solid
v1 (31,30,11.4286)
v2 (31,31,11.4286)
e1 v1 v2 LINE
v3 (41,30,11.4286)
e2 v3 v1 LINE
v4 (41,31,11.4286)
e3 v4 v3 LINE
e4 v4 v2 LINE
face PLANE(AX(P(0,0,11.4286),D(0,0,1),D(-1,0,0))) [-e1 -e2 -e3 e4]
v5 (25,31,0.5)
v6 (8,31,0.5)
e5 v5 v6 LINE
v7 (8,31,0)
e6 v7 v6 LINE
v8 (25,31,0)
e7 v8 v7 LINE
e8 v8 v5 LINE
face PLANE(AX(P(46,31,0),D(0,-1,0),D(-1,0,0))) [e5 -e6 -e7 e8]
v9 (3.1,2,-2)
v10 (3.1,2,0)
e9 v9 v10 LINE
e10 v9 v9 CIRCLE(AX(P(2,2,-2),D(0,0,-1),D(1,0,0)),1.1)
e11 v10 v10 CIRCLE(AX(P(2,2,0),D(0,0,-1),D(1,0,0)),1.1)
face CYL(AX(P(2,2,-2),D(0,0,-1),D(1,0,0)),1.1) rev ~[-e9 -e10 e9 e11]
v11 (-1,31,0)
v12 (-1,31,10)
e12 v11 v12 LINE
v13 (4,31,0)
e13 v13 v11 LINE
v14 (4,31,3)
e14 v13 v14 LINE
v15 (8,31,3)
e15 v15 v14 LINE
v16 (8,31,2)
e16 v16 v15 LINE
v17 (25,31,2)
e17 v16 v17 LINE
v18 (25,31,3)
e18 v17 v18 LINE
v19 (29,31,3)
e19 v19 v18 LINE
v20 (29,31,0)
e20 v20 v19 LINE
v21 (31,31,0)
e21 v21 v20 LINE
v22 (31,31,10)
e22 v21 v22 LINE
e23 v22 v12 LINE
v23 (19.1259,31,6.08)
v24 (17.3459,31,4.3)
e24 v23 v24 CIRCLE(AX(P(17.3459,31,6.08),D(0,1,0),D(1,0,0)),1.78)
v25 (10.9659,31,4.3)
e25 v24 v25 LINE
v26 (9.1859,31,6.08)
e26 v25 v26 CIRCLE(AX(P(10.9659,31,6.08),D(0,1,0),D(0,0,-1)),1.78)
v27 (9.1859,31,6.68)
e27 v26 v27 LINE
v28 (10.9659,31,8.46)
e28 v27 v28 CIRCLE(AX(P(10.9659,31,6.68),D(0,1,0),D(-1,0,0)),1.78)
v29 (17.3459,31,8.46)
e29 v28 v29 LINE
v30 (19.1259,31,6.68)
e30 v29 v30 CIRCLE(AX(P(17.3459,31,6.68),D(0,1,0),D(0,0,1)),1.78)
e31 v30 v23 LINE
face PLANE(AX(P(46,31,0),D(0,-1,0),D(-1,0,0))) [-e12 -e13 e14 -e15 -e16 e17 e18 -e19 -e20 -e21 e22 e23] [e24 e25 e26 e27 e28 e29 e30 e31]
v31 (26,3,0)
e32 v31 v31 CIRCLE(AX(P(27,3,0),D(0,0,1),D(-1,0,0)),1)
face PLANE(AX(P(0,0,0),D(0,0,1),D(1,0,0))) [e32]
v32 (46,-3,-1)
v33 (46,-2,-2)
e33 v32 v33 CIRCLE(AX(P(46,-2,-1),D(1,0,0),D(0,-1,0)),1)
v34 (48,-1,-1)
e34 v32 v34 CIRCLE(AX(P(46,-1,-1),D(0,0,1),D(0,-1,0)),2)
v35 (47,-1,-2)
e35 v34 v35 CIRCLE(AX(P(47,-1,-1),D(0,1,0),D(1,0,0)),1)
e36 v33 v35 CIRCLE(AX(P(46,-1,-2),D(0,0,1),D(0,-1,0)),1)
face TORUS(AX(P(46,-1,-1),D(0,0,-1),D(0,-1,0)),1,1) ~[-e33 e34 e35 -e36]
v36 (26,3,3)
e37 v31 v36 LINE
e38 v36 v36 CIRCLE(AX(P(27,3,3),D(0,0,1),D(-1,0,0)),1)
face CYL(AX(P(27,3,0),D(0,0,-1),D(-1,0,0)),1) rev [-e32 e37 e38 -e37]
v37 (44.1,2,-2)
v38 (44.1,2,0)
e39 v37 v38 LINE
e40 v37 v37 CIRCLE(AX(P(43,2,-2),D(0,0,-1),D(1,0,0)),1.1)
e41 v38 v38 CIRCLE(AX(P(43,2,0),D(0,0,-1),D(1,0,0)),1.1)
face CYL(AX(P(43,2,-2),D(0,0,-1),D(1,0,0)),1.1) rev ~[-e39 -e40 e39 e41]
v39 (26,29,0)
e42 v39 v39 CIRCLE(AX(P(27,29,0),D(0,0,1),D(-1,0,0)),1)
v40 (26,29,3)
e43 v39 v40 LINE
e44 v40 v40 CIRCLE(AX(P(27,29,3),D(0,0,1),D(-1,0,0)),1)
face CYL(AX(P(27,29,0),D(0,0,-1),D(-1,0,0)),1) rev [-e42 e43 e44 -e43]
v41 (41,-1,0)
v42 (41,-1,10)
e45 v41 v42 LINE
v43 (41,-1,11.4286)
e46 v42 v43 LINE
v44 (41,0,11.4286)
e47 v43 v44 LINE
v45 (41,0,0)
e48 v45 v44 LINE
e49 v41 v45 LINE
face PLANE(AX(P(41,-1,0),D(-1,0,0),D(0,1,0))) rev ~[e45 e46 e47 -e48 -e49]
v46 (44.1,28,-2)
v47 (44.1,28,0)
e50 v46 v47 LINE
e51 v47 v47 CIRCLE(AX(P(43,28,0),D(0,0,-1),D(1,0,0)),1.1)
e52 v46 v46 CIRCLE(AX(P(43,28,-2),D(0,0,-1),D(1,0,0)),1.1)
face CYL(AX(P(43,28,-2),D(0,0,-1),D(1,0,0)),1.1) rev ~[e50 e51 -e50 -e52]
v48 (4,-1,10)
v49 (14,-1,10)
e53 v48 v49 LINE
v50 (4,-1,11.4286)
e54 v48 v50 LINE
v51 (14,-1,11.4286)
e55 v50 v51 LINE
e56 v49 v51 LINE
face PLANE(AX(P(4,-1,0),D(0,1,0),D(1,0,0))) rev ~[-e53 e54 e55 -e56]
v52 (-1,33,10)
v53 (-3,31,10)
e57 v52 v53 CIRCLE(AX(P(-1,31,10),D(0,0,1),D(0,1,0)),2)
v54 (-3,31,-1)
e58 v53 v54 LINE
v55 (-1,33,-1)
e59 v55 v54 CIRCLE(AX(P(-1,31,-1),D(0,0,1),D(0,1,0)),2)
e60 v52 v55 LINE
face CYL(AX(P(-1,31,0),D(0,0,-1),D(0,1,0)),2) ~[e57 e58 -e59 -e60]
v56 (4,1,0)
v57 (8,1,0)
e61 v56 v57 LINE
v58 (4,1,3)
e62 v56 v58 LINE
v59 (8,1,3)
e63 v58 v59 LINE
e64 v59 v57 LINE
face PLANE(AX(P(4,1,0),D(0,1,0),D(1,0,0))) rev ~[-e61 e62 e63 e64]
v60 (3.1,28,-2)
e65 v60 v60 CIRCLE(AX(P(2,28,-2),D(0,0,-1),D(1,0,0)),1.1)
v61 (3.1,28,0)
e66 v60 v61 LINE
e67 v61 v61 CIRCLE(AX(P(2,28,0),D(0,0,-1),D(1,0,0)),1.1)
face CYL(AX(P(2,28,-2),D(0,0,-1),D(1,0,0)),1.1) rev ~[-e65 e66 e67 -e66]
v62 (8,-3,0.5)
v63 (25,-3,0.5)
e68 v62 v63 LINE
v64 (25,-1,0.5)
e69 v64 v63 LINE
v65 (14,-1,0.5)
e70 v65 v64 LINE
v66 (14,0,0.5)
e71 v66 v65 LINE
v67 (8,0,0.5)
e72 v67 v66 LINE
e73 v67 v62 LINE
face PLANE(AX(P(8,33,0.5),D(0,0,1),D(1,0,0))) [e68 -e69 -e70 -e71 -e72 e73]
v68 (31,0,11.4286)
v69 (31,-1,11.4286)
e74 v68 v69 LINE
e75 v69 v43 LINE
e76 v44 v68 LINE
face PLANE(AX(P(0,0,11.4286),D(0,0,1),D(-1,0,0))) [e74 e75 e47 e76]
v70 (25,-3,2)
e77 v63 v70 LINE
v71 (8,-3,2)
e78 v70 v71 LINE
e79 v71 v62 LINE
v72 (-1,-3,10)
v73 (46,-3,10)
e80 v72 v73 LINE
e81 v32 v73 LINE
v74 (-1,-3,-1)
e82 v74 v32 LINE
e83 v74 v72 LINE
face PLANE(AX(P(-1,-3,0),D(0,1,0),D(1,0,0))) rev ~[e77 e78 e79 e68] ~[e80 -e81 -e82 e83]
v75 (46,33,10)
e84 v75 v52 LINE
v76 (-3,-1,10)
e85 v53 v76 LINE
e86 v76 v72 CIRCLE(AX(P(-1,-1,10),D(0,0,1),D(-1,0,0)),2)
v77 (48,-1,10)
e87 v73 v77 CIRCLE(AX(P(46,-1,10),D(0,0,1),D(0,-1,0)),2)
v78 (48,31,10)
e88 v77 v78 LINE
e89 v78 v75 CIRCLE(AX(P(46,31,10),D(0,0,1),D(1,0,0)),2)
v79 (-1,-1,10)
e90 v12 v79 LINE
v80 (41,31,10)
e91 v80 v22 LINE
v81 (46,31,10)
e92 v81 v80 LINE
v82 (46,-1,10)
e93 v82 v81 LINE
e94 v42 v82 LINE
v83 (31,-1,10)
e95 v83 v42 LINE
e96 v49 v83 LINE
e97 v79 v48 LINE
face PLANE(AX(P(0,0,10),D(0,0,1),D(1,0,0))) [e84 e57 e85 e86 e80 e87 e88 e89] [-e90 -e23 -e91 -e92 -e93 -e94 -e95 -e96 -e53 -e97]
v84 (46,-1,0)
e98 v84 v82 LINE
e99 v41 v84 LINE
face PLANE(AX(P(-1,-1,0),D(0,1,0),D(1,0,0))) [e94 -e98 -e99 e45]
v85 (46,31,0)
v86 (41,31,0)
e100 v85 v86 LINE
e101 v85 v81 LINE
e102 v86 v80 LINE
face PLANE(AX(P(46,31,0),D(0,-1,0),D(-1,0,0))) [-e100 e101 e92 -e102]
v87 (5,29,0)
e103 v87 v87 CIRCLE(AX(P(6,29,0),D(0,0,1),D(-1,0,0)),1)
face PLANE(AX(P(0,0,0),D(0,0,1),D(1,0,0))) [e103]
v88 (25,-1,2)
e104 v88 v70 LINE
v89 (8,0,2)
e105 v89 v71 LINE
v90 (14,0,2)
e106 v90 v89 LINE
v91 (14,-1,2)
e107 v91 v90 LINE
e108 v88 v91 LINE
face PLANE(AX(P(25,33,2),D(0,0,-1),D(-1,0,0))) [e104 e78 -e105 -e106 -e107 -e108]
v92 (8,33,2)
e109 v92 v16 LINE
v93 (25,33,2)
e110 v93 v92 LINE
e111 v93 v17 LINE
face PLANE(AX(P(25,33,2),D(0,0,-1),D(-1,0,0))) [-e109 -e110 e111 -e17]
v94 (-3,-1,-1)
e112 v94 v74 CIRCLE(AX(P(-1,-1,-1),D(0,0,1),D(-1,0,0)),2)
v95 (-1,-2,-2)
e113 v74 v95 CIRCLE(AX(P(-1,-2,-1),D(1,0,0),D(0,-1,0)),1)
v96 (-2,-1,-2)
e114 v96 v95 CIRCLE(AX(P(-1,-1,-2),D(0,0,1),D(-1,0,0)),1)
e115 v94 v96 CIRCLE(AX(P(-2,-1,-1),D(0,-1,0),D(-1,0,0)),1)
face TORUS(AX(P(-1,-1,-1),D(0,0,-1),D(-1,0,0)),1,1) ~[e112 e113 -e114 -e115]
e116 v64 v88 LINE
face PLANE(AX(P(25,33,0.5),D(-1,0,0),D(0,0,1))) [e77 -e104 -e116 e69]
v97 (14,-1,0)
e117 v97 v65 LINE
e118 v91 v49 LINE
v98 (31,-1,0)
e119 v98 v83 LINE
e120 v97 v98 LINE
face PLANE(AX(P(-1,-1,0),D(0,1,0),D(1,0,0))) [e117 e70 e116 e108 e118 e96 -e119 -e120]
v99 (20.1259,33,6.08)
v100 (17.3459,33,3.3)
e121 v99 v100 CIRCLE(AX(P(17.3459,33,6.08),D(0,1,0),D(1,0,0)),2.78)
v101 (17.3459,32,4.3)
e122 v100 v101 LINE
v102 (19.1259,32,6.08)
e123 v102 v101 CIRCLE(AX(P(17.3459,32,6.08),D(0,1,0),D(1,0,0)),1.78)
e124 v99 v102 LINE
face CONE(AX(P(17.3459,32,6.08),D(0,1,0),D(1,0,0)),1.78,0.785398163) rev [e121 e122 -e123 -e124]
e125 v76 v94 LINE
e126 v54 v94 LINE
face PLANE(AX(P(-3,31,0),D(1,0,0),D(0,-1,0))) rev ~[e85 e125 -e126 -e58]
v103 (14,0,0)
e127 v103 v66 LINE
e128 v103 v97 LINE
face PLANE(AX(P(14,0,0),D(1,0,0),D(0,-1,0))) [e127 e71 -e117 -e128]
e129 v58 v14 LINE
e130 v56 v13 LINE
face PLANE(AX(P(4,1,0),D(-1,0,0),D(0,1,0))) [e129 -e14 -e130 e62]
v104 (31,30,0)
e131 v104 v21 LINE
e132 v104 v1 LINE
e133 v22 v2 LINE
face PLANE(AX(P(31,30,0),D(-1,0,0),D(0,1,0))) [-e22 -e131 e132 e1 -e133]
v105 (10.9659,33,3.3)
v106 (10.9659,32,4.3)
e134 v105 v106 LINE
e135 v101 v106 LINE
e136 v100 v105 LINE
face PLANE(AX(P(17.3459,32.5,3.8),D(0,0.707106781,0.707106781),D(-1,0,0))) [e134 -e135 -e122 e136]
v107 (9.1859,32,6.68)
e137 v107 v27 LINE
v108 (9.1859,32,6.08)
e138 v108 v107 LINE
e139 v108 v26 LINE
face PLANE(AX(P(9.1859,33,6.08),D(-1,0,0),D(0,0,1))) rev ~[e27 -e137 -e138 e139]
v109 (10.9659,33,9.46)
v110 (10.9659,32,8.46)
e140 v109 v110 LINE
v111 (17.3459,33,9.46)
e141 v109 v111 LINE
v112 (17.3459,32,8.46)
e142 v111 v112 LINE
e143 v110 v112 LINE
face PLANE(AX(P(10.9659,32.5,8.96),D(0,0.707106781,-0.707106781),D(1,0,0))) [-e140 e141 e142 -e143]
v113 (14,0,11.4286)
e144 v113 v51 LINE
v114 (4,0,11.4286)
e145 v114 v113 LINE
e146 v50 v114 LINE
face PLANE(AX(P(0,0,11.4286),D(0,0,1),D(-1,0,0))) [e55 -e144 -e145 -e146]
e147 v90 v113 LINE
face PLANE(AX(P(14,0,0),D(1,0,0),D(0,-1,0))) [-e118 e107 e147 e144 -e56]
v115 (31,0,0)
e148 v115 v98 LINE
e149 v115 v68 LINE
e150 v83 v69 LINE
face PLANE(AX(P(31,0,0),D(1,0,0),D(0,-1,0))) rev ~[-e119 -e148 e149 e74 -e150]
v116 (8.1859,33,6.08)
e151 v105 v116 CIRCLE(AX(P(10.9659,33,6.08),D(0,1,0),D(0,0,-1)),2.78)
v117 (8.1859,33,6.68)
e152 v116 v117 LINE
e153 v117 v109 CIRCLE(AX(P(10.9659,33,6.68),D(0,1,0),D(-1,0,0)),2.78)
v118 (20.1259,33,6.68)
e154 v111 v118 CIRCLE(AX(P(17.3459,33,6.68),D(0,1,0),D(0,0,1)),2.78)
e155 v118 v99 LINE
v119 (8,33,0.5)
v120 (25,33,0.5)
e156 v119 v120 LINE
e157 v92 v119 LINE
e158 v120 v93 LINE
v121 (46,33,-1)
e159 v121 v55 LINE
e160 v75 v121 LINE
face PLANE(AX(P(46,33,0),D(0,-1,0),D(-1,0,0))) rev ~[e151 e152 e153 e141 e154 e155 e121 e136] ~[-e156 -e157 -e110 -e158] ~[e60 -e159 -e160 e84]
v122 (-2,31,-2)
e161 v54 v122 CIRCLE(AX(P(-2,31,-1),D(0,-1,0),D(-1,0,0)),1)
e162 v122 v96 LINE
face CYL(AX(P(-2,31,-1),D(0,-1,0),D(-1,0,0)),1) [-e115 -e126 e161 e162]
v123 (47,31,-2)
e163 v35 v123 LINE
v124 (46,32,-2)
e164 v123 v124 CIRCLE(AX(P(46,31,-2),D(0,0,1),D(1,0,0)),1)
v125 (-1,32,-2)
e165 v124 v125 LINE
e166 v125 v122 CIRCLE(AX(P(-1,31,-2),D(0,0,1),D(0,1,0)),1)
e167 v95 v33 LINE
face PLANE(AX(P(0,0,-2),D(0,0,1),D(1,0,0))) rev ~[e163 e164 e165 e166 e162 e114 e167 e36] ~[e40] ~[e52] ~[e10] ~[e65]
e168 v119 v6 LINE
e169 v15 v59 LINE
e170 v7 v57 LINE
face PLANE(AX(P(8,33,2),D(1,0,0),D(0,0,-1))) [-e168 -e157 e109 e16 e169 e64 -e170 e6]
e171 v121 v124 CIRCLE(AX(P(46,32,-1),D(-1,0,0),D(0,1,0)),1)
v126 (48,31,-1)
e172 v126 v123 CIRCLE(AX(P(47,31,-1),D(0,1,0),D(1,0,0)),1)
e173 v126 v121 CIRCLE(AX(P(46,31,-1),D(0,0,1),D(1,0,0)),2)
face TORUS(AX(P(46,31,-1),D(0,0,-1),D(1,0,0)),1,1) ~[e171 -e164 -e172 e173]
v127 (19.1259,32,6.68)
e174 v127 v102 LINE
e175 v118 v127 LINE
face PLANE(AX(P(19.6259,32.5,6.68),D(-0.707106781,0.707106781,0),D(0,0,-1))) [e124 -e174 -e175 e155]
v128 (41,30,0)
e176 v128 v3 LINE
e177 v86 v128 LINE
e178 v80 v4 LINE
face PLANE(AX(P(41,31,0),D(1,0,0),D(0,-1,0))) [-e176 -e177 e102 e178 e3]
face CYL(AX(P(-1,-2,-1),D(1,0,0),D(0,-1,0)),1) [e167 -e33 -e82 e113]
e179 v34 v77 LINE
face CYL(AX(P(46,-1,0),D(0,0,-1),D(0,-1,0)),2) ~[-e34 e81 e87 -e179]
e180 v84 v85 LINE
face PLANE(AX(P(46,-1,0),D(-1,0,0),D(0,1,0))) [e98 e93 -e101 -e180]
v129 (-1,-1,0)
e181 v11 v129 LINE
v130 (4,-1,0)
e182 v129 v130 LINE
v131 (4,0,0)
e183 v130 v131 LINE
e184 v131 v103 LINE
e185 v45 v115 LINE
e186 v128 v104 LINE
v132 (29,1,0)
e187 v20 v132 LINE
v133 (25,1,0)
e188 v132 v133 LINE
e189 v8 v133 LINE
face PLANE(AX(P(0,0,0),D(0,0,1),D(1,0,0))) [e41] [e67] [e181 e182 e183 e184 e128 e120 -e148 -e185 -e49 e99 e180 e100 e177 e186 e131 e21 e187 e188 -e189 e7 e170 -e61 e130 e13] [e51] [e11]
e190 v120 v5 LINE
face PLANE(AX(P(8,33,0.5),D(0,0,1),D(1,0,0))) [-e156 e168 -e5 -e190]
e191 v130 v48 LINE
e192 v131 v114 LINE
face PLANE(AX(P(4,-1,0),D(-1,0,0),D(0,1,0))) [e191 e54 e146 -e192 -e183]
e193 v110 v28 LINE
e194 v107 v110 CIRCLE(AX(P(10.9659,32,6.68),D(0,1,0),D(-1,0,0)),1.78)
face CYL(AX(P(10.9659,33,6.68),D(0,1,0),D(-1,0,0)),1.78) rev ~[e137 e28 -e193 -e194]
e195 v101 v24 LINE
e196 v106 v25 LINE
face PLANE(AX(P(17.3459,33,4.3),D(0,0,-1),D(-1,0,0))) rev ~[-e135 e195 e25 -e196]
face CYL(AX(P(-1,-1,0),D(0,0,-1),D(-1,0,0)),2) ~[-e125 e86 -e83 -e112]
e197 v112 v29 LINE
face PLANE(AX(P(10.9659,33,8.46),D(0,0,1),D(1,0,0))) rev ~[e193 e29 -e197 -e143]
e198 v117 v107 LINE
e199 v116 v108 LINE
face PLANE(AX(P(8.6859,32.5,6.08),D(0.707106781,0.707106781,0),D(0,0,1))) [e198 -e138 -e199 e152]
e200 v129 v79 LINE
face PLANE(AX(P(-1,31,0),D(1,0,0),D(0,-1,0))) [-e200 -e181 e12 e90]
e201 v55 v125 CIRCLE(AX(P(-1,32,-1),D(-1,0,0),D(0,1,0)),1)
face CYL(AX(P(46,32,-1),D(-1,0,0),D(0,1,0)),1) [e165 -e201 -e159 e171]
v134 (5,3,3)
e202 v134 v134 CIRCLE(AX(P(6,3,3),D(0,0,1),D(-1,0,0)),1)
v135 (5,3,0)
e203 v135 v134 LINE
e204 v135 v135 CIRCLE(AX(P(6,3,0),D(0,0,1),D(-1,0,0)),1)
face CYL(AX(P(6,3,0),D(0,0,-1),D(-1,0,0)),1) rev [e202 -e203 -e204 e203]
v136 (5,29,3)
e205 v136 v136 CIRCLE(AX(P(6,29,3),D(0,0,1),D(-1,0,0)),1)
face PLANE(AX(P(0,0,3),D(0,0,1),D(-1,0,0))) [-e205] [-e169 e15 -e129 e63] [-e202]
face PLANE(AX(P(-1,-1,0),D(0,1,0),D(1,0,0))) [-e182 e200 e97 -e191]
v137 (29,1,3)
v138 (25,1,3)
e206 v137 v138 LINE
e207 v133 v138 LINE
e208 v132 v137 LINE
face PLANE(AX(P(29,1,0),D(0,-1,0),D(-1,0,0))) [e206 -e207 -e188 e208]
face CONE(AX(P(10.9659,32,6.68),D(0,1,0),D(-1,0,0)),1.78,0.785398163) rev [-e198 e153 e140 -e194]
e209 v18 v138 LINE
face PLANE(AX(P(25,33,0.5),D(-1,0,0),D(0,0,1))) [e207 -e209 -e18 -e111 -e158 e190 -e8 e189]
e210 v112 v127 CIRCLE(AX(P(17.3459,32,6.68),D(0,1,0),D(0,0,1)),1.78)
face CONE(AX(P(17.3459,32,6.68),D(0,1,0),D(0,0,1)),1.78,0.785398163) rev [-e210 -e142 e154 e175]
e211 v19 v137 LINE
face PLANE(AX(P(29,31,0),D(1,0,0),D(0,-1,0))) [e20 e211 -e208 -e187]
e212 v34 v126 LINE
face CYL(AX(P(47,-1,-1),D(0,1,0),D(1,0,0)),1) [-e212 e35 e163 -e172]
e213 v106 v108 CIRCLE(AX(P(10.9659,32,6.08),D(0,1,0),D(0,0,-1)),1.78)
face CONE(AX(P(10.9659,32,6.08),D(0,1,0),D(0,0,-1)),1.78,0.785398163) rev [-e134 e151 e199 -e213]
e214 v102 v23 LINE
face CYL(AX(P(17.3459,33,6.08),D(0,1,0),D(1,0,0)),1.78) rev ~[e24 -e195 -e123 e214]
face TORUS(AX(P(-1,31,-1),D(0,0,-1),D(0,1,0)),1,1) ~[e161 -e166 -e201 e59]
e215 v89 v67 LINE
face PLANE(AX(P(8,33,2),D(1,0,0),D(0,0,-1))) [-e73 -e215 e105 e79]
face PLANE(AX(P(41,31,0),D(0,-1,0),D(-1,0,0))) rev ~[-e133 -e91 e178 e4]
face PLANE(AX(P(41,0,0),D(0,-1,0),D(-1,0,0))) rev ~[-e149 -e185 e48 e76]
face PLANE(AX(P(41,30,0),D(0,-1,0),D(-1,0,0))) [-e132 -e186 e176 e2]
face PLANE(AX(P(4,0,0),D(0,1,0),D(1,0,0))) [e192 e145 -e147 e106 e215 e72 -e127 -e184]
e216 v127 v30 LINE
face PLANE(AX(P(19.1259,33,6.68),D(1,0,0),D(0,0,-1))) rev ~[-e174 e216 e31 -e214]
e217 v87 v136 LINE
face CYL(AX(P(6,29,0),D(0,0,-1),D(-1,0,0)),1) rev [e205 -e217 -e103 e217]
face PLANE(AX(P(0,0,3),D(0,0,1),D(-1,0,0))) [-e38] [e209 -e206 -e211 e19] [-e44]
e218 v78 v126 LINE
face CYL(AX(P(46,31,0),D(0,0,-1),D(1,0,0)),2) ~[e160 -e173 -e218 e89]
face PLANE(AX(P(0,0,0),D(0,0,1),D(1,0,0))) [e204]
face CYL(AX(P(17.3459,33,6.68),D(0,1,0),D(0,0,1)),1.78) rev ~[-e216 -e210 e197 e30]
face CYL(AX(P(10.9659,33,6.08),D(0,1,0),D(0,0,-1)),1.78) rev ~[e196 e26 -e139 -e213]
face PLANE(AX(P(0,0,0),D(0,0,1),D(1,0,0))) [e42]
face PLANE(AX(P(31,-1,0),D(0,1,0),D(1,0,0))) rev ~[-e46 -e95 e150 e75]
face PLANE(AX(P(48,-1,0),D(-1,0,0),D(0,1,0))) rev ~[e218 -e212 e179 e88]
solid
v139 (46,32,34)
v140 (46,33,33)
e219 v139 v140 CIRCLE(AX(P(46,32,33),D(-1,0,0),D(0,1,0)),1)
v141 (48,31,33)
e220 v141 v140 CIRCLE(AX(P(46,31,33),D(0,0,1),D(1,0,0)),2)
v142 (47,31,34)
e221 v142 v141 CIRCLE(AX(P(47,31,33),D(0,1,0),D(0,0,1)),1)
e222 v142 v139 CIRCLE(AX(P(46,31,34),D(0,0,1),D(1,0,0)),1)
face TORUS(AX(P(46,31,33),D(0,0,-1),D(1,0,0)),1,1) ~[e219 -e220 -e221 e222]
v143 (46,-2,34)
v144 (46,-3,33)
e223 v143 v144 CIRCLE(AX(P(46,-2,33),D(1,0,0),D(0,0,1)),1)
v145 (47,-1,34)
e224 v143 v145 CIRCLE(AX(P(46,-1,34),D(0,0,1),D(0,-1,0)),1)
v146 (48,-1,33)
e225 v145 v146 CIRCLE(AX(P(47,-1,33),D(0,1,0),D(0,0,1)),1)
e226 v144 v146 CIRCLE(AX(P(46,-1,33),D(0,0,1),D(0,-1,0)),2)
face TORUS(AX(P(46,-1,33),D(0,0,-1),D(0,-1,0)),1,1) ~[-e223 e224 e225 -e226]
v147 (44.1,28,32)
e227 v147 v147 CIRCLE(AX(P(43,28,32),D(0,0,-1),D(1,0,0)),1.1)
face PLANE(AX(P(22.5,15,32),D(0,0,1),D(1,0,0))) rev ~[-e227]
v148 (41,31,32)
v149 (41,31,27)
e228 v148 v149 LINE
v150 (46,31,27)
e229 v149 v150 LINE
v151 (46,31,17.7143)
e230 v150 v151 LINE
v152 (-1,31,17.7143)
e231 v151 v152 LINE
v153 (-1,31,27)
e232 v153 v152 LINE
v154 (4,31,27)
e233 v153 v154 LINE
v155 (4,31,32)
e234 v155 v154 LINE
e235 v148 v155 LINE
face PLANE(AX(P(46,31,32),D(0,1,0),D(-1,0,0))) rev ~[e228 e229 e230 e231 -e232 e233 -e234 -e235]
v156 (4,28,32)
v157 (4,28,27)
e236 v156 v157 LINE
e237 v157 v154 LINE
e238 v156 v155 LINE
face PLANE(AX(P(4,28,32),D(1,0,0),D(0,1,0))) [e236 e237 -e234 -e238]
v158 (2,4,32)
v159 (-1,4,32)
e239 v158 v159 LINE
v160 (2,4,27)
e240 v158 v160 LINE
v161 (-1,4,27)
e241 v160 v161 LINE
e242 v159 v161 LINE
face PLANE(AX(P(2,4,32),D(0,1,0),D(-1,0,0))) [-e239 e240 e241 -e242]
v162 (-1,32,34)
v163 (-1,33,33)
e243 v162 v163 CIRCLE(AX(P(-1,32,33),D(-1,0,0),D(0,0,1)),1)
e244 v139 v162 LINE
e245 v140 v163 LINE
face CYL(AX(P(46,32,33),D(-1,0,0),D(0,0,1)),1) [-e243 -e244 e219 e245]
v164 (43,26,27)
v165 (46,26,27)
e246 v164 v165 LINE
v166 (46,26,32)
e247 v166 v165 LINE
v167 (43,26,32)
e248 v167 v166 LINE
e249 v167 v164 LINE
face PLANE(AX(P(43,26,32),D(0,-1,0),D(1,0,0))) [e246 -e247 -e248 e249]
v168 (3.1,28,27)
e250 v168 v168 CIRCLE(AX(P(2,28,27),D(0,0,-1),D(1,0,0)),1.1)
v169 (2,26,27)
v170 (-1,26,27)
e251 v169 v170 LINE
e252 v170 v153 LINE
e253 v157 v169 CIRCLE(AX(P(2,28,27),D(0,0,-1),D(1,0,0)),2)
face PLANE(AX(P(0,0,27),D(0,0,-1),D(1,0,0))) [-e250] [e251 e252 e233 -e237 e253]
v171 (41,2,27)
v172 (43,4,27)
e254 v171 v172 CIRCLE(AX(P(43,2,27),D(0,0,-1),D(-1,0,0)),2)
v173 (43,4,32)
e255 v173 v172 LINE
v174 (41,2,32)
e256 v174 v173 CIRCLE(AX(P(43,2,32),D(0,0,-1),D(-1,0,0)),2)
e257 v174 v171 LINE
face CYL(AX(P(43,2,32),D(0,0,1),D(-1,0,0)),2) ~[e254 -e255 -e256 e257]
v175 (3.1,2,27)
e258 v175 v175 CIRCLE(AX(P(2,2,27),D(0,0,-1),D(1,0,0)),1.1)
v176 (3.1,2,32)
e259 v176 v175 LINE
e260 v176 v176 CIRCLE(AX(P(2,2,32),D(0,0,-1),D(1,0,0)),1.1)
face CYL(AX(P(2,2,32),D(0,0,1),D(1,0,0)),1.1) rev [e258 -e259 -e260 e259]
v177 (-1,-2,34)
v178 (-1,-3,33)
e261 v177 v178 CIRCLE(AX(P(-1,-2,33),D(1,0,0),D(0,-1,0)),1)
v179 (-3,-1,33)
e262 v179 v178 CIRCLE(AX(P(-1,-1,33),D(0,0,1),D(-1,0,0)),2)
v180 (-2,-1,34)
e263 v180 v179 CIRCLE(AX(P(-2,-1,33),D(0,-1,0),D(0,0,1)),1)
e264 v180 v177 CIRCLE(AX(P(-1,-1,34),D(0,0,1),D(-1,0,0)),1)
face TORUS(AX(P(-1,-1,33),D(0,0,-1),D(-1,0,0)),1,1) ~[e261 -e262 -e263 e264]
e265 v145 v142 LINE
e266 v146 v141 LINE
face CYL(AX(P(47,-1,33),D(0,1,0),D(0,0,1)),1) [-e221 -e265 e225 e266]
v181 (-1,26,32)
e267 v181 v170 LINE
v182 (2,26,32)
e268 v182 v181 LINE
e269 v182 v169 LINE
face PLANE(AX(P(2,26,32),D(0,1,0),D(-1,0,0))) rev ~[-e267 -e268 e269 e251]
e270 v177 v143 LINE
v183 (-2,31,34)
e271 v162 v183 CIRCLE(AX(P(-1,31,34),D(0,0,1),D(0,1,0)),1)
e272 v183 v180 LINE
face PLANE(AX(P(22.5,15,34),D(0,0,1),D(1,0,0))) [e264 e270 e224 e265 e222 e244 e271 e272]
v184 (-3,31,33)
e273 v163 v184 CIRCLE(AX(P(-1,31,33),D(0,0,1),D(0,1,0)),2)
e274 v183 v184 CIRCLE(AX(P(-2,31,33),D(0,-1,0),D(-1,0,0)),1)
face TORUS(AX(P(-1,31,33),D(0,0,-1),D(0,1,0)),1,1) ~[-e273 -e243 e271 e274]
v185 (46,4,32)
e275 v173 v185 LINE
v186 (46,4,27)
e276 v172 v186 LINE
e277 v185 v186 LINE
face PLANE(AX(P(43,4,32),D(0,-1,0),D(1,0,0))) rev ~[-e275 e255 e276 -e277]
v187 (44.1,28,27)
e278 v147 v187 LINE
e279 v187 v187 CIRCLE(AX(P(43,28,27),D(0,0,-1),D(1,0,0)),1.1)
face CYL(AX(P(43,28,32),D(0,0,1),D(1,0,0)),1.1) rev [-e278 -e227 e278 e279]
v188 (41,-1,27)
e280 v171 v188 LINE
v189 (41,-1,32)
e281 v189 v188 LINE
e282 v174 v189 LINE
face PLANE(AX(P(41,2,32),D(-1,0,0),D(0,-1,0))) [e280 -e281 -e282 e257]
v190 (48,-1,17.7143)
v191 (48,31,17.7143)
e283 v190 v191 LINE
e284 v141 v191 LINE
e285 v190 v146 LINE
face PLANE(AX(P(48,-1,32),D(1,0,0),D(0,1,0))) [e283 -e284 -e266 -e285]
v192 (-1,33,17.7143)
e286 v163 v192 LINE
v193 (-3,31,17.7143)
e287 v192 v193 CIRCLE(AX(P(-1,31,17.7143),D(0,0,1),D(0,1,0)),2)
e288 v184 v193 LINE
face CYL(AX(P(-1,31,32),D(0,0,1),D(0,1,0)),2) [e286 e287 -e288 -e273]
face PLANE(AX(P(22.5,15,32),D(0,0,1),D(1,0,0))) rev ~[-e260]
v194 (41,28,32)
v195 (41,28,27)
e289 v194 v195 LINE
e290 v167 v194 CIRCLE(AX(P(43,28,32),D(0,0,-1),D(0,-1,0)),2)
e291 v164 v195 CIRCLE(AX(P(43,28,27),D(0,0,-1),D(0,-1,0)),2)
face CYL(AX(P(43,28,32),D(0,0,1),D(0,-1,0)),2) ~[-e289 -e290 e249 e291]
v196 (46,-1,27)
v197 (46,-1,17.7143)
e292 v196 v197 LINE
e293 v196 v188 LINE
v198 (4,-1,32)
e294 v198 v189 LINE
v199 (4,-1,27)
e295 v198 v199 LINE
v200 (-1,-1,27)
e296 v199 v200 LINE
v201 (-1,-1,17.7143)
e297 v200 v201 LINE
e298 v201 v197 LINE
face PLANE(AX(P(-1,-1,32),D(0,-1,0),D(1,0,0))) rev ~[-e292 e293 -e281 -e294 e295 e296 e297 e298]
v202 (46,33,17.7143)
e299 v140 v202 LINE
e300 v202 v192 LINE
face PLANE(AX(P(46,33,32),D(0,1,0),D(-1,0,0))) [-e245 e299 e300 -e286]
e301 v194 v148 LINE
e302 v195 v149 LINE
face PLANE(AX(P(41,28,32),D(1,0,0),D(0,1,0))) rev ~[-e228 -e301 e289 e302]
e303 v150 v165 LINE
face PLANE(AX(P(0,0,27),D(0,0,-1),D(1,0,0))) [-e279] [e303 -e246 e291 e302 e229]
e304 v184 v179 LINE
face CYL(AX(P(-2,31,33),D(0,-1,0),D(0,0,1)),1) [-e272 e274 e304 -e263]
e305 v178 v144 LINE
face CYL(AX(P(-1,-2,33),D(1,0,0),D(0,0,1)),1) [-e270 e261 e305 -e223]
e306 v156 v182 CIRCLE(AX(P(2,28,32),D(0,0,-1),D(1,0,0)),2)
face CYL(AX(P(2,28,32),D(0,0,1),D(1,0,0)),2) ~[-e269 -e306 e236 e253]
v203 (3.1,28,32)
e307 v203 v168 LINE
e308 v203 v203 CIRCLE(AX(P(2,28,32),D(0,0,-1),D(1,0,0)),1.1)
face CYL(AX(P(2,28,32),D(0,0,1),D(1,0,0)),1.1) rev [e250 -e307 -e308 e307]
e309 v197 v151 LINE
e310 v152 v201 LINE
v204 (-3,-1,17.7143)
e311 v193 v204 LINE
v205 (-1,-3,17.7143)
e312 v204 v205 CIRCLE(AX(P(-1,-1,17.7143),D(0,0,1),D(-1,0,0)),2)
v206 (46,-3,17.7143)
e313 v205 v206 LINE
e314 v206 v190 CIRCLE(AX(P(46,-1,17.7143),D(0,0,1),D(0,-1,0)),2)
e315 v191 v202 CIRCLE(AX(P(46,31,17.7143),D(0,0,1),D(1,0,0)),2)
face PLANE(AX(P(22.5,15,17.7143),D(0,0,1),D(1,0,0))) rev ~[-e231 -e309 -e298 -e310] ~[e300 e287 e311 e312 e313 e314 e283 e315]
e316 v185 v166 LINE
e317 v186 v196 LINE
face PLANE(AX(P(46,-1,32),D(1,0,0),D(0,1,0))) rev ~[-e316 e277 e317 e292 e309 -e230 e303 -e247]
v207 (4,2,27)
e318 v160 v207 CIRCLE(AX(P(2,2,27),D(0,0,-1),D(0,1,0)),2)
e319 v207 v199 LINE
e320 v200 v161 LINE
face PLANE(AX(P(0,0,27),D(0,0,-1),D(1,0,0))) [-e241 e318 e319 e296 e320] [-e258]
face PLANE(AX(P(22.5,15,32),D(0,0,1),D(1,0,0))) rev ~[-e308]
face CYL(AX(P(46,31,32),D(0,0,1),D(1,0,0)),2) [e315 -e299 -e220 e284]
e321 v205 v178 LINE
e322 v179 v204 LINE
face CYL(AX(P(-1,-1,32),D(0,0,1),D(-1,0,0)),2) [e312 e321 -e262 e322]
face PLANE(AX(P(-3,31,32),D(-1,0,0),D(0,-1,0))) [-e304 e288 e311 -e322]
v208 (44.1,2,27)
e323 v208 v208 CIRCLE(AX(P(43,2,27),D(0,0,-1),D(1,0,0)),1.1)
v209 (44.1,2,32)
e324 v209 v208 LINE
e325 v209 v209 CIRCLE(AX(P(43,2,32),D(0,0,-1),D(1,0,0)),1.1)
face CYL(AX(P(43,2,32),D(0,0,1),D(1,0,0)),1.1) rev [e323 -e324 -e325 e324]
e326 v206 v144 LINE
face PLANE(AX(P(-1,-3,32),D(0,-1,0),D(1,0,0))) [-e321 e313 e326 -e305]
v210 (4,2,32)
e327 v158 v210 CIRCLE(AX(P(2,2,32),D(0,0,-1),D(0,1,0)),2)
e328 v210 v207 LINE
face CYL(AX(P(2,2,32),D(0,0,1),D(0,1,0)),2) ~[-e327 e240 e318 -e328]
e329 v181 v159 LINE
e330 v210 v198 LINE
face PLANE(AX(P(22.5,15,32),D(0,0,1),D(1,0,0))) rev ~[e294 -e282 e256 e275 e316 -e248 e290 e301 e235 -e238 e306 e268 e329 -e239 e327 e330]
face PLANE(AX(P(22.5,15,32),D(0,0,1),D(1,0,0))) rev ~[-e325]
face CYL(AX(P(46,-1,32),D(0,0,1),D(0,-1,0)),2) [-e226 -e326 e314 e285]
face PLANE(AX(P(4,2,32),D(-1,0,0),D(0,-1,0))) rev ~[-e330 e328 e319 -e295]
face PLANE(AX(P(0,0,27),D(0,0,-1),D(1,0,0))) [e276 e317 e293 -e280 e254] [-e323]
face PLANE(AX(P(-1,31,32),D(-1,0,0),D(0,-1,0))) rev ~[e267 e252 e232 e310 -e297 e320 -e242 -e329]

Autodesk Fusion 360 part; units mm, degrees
sketch "Sketch1" plane through (0, 0, 0) normal (0, 0, 1) x (1, 0, 0) in component "Enclosure-Bottom"
  line L0 (0, 0) -> (45, 0) construction
  line L1 (45, 0) -> (45, 30) construction
  line L2 (45, 30) -> (0, 30) construction
  line L3 (0, 30) -> (0, 0) construction
  line L4 (-1, -1) -> (46, -1)
  line L5 (46, -1) -> (46, 31)
  line L6 (46, 31) -> (-1, 31)
  line L7 (-1, 31) -> (-1, -1)
  line L8 (-1, -3) -> (46, -3)
  line L9 (48, -1) -> (48, 31)
  line L10 (46, 33) -> (-1, 33)
  line L11 (-3, 31) -> (-3, -1)
  arc A0 (48, 31) -> (46, 33) centre (46, 31) ccw
  arc A1 (-1, 33) -> (-3, 31) centre (-1, 31) ccw
  arc A2 (-3, -1) -> (-1, -3) centre (-1, -1) ccw
  arc A3 (46, -3) -> (48, -1) centre (46, -1) ccw
  dimension "d1" = 45
  dimension "d2" = 30
  dimension "d5" = 1
  dimension "d9" = 2
  dimension "d23" = 3
  dimension "d25" = 3
  dimension "d26" = 3
  dimension "d27" = 3
extrude "Extrude1" add sketch "Sketch1" against normal blind 2 contours L4 L5 L6 L7 | L8 L9 L10 L11 A0 A1 A2 A3 makes body 1 in component "Enclosure-Bottom"
extrude "Extrude2" add sketch "Sketch1" along normal blind 10 bodies 1 in component "Enclosure-Bottom"
ref_plane "WorkPlane1" through (22.5, 15, 32) normal (0, 0, 1) x (1, 0, 0)
sketch "Sketch1 (2)" plane through (22.5, 15, 32) normal (0, 0, 1) x (1, 0, 0) in component "Enclosure-Top"
  line L0 (-23.5, -16) -> (23.5, -16)
  line L1 (-23.5, 16) -> (-23.5, -16)
  line L2 (23.5, 16) -> (-23.5, 16)
  line L3 (23.5, -16) -> (23.5, 16)
  line L4 (-23.5, -18) -> (23.5, -18)
  arc A0 (23.5, -18) -> (25.5, -16) centre (23.5, -16) ccw
  line L5 (25.5, -16) -> (25.5, 16)
  line L6 (-25.5, 16) -> (-25.5, -16)
  arc A1 (-25.5, -16) -> (-23.5, -18) centre (-23.5, -16) ccw
  line L7 (23.5, 18) -> (-23.5, 18)
  arc A2 (-23.5, 18) -> (-25.5, 16) centre (-23.5, 16) ccw
  arc A3 (25.5, 16) -> (23.5, 18) centre (23.5, 16) ccw
extrude "Extrude1'" add sketch "Sketch1 (2)" against normal blind 14.2857 separate body makes body 2 in component "Enclosure-Top"
extrude "Extrude2'" add sketch "Sketch1 (2)" along normal blind 2 contours L0 L1 L2 L3 | L4 A0 L5 L6 A1 L7 A2 A3 bodies 2 in component "Enclosure-Top"
fillet "Fillet1" radius 1 8 edges at (48, 15, 34) (47.4142, 32.4142, 34) (22.5, 33, 34) (-2.4142, 32.4142, 34) (-3, 15, 34) (-2.4142, -2.4142, 34) (22.5, -3, 34) (47.4142, -2.4142, 34) on bodies 2 in component "Enclosure-Top"
fillet "Fillet1'" radius 1 8 edges at (-3, 15, -2) (-2.4142, 32.4142, -2) (22.5, 33, -2) (47.4142, 32.4142, -2) (48, 15, -2) (47.4142, -2.4142, -2) (22.5, -3, -2) (-2.4142, -2.4142, -2) on bodies 1 in component "Enclosure-Bottom"
sketch "Sketch2" plane through (0, 0, 32) normal (0, 0, -1) x (1, 0, 0) in component "Enclosure-Top"
  line L0 (46, 1) -> (-1, 1)
  line L1 (-1, 1) -> (-1, -31)
  line L2 (-1, -31) -> (46, -31)
  line L3 (46, -31) -> (46, 1)
  line L4 (46, -2) -> (-1, -2) construction
  line L5 (2, 1) -> (2, -31) construction
  line L6 (-1, 1) -> (46, 1)
  line L7 (-1, -31) -> (-1, 1)
  line L8 (46, 1) -> (46, -31)
  line L9 (46, -31) -> (-1, -31)
  line L10 (22.5, 1) -> (22.5, -31) construction
  line L11 (46, -15) -> (-1, -15) construction
  line L12 (46, -28) -> (-1, -28) construction
  line L13 (43, 1) -> (43, -31) construction
  circle A0 centre (43, -2) radius 1.1
  line L14 (43, -4) -> (46, -4)
  line L15 (41, -2) -> (41, 1)
  arc A1 (41, -2) -> (43, -4) centre (43, -2) ccw
  circle A2 centre (2, -2) radius 1.1
  line L16 (4, -2) -> (4, 1)
  arc A3 (2, -4) -> (4, -2) centre (2, -2) ccw
  line L17 (2, -4) -> (-1, -4)
  circle A4 centre (2, -28) radius 1.1
  line L18 (4, -28) -> (4, -31)
  arc A5 (4, -28) -> (2, -26) centre (2, -28) ccw
  line L19 (2, -26) -> (-1, -26)
  line L20 (43, -26) -> (46, -26)
  circle A6 centre (43, -28) radius 1.1
  arc A7 (43, -26) -> (41, -28) centre (43, -28) ccw
  line L21 (41, -28) -> (41, -31)
  dimension "d28" = 3
  dimension "d29" = 3
  dimension "d30" = 2.2
  dimension "d31" = 4
extrude "Extrude3" add sketch "Sketch2" along normal blind 5 contours L0 L3 L6 L8 L14 L15 A1 | L0 L1 L6 L7 L16 A3 L17 | L2 L3 L8 L9 L20 A7 L21 | L1 L2 L7 L9 L18 A5 L19 bodies 2 in component "Enclosure-Top"
sketch "Sketch2 (2)" plane through (0, 0, 0) normal (0, 0, 1) x (-1, 0, 0) in component "Enclosure-Bottom"
  line L0 (1, 1) -> (-46, 1)
  line L1 (-46, 1) -> (-46, -31)
  line L2 (-46, -31) -> (1, -31)
  line L3 (1, -31) -> (1, 1)
  line L4 (1, -31) -> (-46, -31)
  line L5 (-46, -31) -> (-46, 1)
  line L6 (1, 1) -> (1, -31)
  line L7 (-46, 1) -> (1, 1)
  line L8 (-22.5, -31) -> (-22.5, 1) construction
  line L9 (-46, -15) -> (1, -15) construction
  line L10 (-41, -31) -> (-41, -30)
  line L11 (-41, -30) -> (-31, -30)
  line L12 (-31, -30) -> (-31, -31)
  line L13 (-4, 1) -> (-4, 0)
  line L14 (-4, 0) -> (-14, 0)
  line L15 (-14, 0) -> (-14, 1)
  line L16 (-31, 0) -> (-31, 1)
  line L17 (-41, 0) -> (-31, 0)
  line L18 (-41, 1) -> (-41, 0)
  dimension "d44" = 10
  dimension "d45" = 1
  dimension "d46" = 5
sketch "Sketch4" plane through (0, 0, -2) normal (0, 0, -1) x (1, 0, 0) in component "Enclosure-Bottom"
  line L0 (-2, 1) -> (-2, -31)
  arc A0 (-2, -31) -> (-1, -32) centre (-1, -31) ccw
  line L1 (-1, -32) -> (46, -32)
  arc A1 (46, -32) -> (47, -31) centre (46, -31) ccw
  line L2 (47, -31) -> (47, 1)
  arc A2 (47, 1) -> (46, 2) centre (46, 1) ccw
  line L3 (46, 2) -> (-1, 2)
  arc A3 (-1, 2) -> (-2, 1) centre (-1, 1) ccw
  circle A4 centre (43, -2) radius 1.1
  circle A5 centre (2, -2) radius 1.1
  circle A6 centre (2, -28) radius 1.1
  circle A7 centre (43, -28) radius 1.1
extrude "Extrude5" add sketch "Sketch2 (2)" along normal blind 11.4286 contours L0 L7 L13 L14 L15 | L2 L4 L10 L11 L12 | L0 L7 L16 L17 L18 bodies 1 in component "Enclosure-Bottom"
extrude "Extrude6" cut sketch "Sketch4" against normal blind 2 contours A4 | A5 | A6 | A7 bodies 1 in component "Enclosure-Bottom"
sketch "Sketch5" plane through (0, 0, 0) normal (0, 0, 1) x (-1, 0, 0) in component "Enclosure-Bottom"
  circle A0 centre (-43, -2) radius 1.1
  circle A1 centre (-2, -28) radius 1.1 construction
  circle A2 centre (-43, -28) radius 1.1
  circle A3 centre (-2, -2) radius 1.1
  line L0 (-4, 1) -> (-4, 0)
  line L1 (-4, 0) -> (-14, 0)
  line L2 (-14, 0) -> (-14, 1)
  line L3 (-14, 1) -> (-31, 1)
  line L4 (-31, 1) -> (-31, 0)
  line L5 (-31, 0) -> (-41, 0)
  line L6 (-41, 0) -> (-41, 1)
  line L7 (-41, 1) -> (-46, 1)
  line L8 (-46, 1) -> (-46, -31) construction
  line L9 (-46, -31) -> (-41, -31)
  line L10 (-41, -31) -> (-41, -30)
  line L11 (-41, -30) -> (-31, -30)
  line L12 (-31, -30) -> (-31, -31)
  line L13 (-31, -31) -> (1, -31)
  line L14 (1, -31) -> (1, 1) construction
  line L15 (1, 1) -> (-4, 1)
  line L16 (1, 1) -> (1, -31)
  line L17 (-46, -31) -> (-46, 1)
  circle A4 centre (-2, -28) radius 1.1
  line L18 (-4, -31) -> (-29, -31) construction
  line L19 (-29, -31) -> (-29, -1)
  line L20 (-29, -1) -> (-4, -1) construction
  line L21 (-4, -1) -> (-4, -31)
  line L22 (-6, -29) -> (-27, -29) construction
  line L23 (-27, -29) -> (-27, -3) construction
  line L24 (-27, -3) -> (-6, -3) construction
  line L25 (-6, -3) -> (-6, -29) construction
  circle A5 centre (-6, -29) radius 1
  circle A6 centre (-27, -29) radius 1
  circle A7 centre (-6, -3) radius 1
  circle A8 centre (-27, -3) radius 1
  line L26 (-25, -31) -> (-25, -1)
  line L27 (-8, -31) -> (-8, -1)
  line L28 (-4, -31) -> (-8, -31)
  line L29 (-4, -1) -> (-8, -1)
  line L30 (-29, -31) -> (-25, -31)
  line L31 (-29, -1) -> (-25, -1)
  line L32 (-41, -31) -> (-46, -31)
  line L33 (-4, 1) -> (1, 1)
  line L34 (-31, 1) -> (-14, 1)
  line L35 (1, -31) -> (-31, -31)
  line L36 (-46, 1) -> (-41, 1)
  dimension "d52" = 25
  dimension "d53" = 30
  dimension "d54" = 5
  dimension "d55" = 21
  dimension "d56" = 26
  dimension "d57" = 2
  dimension "d58" = 2
  dimension "d59" = 2
  dimension "d60" = 2
  dimension "d61" = 2
  dimension "d62" = 2
  dimension "d63" = 2
  dimension "d64" = 2
extrude "Extrude7" add sketch "Sketch5" along normal blind 3 contours L13 L21 L27 L28 L29 L35 | L13 L19 L26 L30 L31 L35 bodies 1 in component "Enclosure-Bottom"
sketch "Sketch6" plane through (0, 33, 0) normal (0, 1, 0) x (-1, 0, 0) in component "Enclosure-Bottom"
  line L0 (-46, -1) -> (1, -1)
  line L1 (1, -1) -> (1, 10)
  line L2 (1, 10) -> (-46, 10)
  line L3 (-46, 10) -> (-46, -1)
  line L4 (-14.6059, 4.3) -> (-10.9659, 4.3)
  arc A0 (-10.9659, 4.3) -> (-9.1859, 6.08) centre (-10.9659, 6.08) ccw
  line L5 (-9.1859, 6.08) -> (-9.1859, 6.68)
  arc A1 (-9.1859, 6.68) -> (-10.9659, 8.46) centre (-10.9659, 6.68) ccw
  line L6 (-10.9659, 8.46) -> (-17.3459, 8.46)
  arc A2 (-17.3459, 8.46) -> (-19.1259, 6.68) centre (-17.3459, 6.68) ccw
  line L7 (-19.1259, 6.68) -> (-19.1259, 6.08)
  arc A3 (-19.1259, 6.08) -> (-17.3459, 4.3) centre (-17.3459, 6.08) ccw
  line L8 (-17.3459, 4.3) -> (-14.6559, 4.3)
  line L9 (-14.6559, 4.3) -> (-14.6059, 4.3)
extrude "Extrude8" cut sketch "Sketch6" against normal up to surface (2 mm away) contours L4 A0 L5 A1 L6 A2 L7 A3 L8 L9 bodies 1 in component "Enclosure-Bottom"
chamfer "Chamfer2" distance 1 angle 45 8 edges at (18.6046, 33, 7.9387) (14.1559, 33, 8.46) (9.7073, 33, 7.9387) (9.1859, 33, 6.38) (9.7073, 33, 4.8213) (14.1559, 33, 4.3) (18.6046, 33, 4.8213) (19.1259, 33, 6.38) on bodies 1 in component "Enclosure-Bottom"
sketch "Sketch7" plane through (0, 33, 0) normal (0, 1, 0) x (-1, 0, 0) in component "Enclosure-Bottom"
  line L0 (-46, -1) -> (1, -1)
  line L1 (1, -1) -> (1, 10)
  line L2 (1, 10) -> (-46, 10)
  line L3 (-46, 10) -> (-46, -1)
  arc A0 (-17.3459, 9.46) -> (-20.1259, 6.68) centre (-17.3459, 6.68) ccw
  line L4 (-17.3459, 9.46) -> (-10.9659, 9.46)
  arc A1 (-8.1859, 6.68) -> (-10.9659, 9.46) centre (-10.9659, 6.68) ccw
  line L5 (-8.1859, 6.68) -> (-8.1859, 6.08)
  arc A2 (-10.9659, 3.3) -> (-8.1859, 6.08) centre (-10.9659, 6.08) ccw
  line L6 (-10.9659, 3.3) -> (-17.3459, 3.3)
  arc A3 (-20.1259, 6.08) -> (-17.3459, 3.3) centre (-17.3459, 6.08) ccw
  line L7 (-20.1259, 6.08) -> (-20.1259, 6.68)
  line L8 (-25, 2) -> (-8, 2)
  line L9 (-8, 2) -> (-8, 0.5)
  line L10 (-8, 0.5) -> (-25, 0.5)
  line L11 (-25, 0.5) -> (-25, 2)
  dimension "d71" = 1.5
extrude "Extrude9" cut sketch "Sketch7" against normal up to surface (36 mm away) contours L8 L9 L10 L11 bodies 1 in component "Enclosure-Bottom"
component "Enclosure-Bottom" placed x (1, 0, 0) y (0, 1, 0) z (0, 0, 1) at (0, 0, 0)
component "Enclosure-Top" placed x (1, 0, 0) y (0, 1, 0) z (0, 0, 1) at (0, 0, 0)
equation "d1 = length"
equation "d2 = width"
equation "wall_thickness = 2 mm"
equation "margin = 1 mm"
equation "d5 = margin"
equation "fillet_radius = 2 mm"
equation "height = 20 mm"
equation "d9 = fillet_radius"
equation "d10 = -wall_thickness"
equation "d12 = height / 2"
equation "d14 = height + wall_thickness"
equation "d15 = -height / 1.4"
equation "d17 = wall_thickness"
equation "d20 = 0.5 * fillet_radius"
equation "d22 = 0.5 * fillet_radius"
equation "d23 = wall_thickness + margin"
equation "d25 = wall_thickness + margin"
equation "d26 = wall_thickness + margin"
equation "d27 = wall_thickness + margin"
equation "d28 = 2 mm + margin"
equation "d29 = 2 mm + margin"
equation "d32 = height / 4"
equation "length = 45 mm"
equation "width = 30 mm"
equation "d44 = wall_thickness * 5"
equation "d45 = wall_thickness / 2"
equation "d47 = height / 1.75"
equation "d49 = -1 * wall_thickness"
equation "d56 = 30 mm - 2 mm - 2 mm"
